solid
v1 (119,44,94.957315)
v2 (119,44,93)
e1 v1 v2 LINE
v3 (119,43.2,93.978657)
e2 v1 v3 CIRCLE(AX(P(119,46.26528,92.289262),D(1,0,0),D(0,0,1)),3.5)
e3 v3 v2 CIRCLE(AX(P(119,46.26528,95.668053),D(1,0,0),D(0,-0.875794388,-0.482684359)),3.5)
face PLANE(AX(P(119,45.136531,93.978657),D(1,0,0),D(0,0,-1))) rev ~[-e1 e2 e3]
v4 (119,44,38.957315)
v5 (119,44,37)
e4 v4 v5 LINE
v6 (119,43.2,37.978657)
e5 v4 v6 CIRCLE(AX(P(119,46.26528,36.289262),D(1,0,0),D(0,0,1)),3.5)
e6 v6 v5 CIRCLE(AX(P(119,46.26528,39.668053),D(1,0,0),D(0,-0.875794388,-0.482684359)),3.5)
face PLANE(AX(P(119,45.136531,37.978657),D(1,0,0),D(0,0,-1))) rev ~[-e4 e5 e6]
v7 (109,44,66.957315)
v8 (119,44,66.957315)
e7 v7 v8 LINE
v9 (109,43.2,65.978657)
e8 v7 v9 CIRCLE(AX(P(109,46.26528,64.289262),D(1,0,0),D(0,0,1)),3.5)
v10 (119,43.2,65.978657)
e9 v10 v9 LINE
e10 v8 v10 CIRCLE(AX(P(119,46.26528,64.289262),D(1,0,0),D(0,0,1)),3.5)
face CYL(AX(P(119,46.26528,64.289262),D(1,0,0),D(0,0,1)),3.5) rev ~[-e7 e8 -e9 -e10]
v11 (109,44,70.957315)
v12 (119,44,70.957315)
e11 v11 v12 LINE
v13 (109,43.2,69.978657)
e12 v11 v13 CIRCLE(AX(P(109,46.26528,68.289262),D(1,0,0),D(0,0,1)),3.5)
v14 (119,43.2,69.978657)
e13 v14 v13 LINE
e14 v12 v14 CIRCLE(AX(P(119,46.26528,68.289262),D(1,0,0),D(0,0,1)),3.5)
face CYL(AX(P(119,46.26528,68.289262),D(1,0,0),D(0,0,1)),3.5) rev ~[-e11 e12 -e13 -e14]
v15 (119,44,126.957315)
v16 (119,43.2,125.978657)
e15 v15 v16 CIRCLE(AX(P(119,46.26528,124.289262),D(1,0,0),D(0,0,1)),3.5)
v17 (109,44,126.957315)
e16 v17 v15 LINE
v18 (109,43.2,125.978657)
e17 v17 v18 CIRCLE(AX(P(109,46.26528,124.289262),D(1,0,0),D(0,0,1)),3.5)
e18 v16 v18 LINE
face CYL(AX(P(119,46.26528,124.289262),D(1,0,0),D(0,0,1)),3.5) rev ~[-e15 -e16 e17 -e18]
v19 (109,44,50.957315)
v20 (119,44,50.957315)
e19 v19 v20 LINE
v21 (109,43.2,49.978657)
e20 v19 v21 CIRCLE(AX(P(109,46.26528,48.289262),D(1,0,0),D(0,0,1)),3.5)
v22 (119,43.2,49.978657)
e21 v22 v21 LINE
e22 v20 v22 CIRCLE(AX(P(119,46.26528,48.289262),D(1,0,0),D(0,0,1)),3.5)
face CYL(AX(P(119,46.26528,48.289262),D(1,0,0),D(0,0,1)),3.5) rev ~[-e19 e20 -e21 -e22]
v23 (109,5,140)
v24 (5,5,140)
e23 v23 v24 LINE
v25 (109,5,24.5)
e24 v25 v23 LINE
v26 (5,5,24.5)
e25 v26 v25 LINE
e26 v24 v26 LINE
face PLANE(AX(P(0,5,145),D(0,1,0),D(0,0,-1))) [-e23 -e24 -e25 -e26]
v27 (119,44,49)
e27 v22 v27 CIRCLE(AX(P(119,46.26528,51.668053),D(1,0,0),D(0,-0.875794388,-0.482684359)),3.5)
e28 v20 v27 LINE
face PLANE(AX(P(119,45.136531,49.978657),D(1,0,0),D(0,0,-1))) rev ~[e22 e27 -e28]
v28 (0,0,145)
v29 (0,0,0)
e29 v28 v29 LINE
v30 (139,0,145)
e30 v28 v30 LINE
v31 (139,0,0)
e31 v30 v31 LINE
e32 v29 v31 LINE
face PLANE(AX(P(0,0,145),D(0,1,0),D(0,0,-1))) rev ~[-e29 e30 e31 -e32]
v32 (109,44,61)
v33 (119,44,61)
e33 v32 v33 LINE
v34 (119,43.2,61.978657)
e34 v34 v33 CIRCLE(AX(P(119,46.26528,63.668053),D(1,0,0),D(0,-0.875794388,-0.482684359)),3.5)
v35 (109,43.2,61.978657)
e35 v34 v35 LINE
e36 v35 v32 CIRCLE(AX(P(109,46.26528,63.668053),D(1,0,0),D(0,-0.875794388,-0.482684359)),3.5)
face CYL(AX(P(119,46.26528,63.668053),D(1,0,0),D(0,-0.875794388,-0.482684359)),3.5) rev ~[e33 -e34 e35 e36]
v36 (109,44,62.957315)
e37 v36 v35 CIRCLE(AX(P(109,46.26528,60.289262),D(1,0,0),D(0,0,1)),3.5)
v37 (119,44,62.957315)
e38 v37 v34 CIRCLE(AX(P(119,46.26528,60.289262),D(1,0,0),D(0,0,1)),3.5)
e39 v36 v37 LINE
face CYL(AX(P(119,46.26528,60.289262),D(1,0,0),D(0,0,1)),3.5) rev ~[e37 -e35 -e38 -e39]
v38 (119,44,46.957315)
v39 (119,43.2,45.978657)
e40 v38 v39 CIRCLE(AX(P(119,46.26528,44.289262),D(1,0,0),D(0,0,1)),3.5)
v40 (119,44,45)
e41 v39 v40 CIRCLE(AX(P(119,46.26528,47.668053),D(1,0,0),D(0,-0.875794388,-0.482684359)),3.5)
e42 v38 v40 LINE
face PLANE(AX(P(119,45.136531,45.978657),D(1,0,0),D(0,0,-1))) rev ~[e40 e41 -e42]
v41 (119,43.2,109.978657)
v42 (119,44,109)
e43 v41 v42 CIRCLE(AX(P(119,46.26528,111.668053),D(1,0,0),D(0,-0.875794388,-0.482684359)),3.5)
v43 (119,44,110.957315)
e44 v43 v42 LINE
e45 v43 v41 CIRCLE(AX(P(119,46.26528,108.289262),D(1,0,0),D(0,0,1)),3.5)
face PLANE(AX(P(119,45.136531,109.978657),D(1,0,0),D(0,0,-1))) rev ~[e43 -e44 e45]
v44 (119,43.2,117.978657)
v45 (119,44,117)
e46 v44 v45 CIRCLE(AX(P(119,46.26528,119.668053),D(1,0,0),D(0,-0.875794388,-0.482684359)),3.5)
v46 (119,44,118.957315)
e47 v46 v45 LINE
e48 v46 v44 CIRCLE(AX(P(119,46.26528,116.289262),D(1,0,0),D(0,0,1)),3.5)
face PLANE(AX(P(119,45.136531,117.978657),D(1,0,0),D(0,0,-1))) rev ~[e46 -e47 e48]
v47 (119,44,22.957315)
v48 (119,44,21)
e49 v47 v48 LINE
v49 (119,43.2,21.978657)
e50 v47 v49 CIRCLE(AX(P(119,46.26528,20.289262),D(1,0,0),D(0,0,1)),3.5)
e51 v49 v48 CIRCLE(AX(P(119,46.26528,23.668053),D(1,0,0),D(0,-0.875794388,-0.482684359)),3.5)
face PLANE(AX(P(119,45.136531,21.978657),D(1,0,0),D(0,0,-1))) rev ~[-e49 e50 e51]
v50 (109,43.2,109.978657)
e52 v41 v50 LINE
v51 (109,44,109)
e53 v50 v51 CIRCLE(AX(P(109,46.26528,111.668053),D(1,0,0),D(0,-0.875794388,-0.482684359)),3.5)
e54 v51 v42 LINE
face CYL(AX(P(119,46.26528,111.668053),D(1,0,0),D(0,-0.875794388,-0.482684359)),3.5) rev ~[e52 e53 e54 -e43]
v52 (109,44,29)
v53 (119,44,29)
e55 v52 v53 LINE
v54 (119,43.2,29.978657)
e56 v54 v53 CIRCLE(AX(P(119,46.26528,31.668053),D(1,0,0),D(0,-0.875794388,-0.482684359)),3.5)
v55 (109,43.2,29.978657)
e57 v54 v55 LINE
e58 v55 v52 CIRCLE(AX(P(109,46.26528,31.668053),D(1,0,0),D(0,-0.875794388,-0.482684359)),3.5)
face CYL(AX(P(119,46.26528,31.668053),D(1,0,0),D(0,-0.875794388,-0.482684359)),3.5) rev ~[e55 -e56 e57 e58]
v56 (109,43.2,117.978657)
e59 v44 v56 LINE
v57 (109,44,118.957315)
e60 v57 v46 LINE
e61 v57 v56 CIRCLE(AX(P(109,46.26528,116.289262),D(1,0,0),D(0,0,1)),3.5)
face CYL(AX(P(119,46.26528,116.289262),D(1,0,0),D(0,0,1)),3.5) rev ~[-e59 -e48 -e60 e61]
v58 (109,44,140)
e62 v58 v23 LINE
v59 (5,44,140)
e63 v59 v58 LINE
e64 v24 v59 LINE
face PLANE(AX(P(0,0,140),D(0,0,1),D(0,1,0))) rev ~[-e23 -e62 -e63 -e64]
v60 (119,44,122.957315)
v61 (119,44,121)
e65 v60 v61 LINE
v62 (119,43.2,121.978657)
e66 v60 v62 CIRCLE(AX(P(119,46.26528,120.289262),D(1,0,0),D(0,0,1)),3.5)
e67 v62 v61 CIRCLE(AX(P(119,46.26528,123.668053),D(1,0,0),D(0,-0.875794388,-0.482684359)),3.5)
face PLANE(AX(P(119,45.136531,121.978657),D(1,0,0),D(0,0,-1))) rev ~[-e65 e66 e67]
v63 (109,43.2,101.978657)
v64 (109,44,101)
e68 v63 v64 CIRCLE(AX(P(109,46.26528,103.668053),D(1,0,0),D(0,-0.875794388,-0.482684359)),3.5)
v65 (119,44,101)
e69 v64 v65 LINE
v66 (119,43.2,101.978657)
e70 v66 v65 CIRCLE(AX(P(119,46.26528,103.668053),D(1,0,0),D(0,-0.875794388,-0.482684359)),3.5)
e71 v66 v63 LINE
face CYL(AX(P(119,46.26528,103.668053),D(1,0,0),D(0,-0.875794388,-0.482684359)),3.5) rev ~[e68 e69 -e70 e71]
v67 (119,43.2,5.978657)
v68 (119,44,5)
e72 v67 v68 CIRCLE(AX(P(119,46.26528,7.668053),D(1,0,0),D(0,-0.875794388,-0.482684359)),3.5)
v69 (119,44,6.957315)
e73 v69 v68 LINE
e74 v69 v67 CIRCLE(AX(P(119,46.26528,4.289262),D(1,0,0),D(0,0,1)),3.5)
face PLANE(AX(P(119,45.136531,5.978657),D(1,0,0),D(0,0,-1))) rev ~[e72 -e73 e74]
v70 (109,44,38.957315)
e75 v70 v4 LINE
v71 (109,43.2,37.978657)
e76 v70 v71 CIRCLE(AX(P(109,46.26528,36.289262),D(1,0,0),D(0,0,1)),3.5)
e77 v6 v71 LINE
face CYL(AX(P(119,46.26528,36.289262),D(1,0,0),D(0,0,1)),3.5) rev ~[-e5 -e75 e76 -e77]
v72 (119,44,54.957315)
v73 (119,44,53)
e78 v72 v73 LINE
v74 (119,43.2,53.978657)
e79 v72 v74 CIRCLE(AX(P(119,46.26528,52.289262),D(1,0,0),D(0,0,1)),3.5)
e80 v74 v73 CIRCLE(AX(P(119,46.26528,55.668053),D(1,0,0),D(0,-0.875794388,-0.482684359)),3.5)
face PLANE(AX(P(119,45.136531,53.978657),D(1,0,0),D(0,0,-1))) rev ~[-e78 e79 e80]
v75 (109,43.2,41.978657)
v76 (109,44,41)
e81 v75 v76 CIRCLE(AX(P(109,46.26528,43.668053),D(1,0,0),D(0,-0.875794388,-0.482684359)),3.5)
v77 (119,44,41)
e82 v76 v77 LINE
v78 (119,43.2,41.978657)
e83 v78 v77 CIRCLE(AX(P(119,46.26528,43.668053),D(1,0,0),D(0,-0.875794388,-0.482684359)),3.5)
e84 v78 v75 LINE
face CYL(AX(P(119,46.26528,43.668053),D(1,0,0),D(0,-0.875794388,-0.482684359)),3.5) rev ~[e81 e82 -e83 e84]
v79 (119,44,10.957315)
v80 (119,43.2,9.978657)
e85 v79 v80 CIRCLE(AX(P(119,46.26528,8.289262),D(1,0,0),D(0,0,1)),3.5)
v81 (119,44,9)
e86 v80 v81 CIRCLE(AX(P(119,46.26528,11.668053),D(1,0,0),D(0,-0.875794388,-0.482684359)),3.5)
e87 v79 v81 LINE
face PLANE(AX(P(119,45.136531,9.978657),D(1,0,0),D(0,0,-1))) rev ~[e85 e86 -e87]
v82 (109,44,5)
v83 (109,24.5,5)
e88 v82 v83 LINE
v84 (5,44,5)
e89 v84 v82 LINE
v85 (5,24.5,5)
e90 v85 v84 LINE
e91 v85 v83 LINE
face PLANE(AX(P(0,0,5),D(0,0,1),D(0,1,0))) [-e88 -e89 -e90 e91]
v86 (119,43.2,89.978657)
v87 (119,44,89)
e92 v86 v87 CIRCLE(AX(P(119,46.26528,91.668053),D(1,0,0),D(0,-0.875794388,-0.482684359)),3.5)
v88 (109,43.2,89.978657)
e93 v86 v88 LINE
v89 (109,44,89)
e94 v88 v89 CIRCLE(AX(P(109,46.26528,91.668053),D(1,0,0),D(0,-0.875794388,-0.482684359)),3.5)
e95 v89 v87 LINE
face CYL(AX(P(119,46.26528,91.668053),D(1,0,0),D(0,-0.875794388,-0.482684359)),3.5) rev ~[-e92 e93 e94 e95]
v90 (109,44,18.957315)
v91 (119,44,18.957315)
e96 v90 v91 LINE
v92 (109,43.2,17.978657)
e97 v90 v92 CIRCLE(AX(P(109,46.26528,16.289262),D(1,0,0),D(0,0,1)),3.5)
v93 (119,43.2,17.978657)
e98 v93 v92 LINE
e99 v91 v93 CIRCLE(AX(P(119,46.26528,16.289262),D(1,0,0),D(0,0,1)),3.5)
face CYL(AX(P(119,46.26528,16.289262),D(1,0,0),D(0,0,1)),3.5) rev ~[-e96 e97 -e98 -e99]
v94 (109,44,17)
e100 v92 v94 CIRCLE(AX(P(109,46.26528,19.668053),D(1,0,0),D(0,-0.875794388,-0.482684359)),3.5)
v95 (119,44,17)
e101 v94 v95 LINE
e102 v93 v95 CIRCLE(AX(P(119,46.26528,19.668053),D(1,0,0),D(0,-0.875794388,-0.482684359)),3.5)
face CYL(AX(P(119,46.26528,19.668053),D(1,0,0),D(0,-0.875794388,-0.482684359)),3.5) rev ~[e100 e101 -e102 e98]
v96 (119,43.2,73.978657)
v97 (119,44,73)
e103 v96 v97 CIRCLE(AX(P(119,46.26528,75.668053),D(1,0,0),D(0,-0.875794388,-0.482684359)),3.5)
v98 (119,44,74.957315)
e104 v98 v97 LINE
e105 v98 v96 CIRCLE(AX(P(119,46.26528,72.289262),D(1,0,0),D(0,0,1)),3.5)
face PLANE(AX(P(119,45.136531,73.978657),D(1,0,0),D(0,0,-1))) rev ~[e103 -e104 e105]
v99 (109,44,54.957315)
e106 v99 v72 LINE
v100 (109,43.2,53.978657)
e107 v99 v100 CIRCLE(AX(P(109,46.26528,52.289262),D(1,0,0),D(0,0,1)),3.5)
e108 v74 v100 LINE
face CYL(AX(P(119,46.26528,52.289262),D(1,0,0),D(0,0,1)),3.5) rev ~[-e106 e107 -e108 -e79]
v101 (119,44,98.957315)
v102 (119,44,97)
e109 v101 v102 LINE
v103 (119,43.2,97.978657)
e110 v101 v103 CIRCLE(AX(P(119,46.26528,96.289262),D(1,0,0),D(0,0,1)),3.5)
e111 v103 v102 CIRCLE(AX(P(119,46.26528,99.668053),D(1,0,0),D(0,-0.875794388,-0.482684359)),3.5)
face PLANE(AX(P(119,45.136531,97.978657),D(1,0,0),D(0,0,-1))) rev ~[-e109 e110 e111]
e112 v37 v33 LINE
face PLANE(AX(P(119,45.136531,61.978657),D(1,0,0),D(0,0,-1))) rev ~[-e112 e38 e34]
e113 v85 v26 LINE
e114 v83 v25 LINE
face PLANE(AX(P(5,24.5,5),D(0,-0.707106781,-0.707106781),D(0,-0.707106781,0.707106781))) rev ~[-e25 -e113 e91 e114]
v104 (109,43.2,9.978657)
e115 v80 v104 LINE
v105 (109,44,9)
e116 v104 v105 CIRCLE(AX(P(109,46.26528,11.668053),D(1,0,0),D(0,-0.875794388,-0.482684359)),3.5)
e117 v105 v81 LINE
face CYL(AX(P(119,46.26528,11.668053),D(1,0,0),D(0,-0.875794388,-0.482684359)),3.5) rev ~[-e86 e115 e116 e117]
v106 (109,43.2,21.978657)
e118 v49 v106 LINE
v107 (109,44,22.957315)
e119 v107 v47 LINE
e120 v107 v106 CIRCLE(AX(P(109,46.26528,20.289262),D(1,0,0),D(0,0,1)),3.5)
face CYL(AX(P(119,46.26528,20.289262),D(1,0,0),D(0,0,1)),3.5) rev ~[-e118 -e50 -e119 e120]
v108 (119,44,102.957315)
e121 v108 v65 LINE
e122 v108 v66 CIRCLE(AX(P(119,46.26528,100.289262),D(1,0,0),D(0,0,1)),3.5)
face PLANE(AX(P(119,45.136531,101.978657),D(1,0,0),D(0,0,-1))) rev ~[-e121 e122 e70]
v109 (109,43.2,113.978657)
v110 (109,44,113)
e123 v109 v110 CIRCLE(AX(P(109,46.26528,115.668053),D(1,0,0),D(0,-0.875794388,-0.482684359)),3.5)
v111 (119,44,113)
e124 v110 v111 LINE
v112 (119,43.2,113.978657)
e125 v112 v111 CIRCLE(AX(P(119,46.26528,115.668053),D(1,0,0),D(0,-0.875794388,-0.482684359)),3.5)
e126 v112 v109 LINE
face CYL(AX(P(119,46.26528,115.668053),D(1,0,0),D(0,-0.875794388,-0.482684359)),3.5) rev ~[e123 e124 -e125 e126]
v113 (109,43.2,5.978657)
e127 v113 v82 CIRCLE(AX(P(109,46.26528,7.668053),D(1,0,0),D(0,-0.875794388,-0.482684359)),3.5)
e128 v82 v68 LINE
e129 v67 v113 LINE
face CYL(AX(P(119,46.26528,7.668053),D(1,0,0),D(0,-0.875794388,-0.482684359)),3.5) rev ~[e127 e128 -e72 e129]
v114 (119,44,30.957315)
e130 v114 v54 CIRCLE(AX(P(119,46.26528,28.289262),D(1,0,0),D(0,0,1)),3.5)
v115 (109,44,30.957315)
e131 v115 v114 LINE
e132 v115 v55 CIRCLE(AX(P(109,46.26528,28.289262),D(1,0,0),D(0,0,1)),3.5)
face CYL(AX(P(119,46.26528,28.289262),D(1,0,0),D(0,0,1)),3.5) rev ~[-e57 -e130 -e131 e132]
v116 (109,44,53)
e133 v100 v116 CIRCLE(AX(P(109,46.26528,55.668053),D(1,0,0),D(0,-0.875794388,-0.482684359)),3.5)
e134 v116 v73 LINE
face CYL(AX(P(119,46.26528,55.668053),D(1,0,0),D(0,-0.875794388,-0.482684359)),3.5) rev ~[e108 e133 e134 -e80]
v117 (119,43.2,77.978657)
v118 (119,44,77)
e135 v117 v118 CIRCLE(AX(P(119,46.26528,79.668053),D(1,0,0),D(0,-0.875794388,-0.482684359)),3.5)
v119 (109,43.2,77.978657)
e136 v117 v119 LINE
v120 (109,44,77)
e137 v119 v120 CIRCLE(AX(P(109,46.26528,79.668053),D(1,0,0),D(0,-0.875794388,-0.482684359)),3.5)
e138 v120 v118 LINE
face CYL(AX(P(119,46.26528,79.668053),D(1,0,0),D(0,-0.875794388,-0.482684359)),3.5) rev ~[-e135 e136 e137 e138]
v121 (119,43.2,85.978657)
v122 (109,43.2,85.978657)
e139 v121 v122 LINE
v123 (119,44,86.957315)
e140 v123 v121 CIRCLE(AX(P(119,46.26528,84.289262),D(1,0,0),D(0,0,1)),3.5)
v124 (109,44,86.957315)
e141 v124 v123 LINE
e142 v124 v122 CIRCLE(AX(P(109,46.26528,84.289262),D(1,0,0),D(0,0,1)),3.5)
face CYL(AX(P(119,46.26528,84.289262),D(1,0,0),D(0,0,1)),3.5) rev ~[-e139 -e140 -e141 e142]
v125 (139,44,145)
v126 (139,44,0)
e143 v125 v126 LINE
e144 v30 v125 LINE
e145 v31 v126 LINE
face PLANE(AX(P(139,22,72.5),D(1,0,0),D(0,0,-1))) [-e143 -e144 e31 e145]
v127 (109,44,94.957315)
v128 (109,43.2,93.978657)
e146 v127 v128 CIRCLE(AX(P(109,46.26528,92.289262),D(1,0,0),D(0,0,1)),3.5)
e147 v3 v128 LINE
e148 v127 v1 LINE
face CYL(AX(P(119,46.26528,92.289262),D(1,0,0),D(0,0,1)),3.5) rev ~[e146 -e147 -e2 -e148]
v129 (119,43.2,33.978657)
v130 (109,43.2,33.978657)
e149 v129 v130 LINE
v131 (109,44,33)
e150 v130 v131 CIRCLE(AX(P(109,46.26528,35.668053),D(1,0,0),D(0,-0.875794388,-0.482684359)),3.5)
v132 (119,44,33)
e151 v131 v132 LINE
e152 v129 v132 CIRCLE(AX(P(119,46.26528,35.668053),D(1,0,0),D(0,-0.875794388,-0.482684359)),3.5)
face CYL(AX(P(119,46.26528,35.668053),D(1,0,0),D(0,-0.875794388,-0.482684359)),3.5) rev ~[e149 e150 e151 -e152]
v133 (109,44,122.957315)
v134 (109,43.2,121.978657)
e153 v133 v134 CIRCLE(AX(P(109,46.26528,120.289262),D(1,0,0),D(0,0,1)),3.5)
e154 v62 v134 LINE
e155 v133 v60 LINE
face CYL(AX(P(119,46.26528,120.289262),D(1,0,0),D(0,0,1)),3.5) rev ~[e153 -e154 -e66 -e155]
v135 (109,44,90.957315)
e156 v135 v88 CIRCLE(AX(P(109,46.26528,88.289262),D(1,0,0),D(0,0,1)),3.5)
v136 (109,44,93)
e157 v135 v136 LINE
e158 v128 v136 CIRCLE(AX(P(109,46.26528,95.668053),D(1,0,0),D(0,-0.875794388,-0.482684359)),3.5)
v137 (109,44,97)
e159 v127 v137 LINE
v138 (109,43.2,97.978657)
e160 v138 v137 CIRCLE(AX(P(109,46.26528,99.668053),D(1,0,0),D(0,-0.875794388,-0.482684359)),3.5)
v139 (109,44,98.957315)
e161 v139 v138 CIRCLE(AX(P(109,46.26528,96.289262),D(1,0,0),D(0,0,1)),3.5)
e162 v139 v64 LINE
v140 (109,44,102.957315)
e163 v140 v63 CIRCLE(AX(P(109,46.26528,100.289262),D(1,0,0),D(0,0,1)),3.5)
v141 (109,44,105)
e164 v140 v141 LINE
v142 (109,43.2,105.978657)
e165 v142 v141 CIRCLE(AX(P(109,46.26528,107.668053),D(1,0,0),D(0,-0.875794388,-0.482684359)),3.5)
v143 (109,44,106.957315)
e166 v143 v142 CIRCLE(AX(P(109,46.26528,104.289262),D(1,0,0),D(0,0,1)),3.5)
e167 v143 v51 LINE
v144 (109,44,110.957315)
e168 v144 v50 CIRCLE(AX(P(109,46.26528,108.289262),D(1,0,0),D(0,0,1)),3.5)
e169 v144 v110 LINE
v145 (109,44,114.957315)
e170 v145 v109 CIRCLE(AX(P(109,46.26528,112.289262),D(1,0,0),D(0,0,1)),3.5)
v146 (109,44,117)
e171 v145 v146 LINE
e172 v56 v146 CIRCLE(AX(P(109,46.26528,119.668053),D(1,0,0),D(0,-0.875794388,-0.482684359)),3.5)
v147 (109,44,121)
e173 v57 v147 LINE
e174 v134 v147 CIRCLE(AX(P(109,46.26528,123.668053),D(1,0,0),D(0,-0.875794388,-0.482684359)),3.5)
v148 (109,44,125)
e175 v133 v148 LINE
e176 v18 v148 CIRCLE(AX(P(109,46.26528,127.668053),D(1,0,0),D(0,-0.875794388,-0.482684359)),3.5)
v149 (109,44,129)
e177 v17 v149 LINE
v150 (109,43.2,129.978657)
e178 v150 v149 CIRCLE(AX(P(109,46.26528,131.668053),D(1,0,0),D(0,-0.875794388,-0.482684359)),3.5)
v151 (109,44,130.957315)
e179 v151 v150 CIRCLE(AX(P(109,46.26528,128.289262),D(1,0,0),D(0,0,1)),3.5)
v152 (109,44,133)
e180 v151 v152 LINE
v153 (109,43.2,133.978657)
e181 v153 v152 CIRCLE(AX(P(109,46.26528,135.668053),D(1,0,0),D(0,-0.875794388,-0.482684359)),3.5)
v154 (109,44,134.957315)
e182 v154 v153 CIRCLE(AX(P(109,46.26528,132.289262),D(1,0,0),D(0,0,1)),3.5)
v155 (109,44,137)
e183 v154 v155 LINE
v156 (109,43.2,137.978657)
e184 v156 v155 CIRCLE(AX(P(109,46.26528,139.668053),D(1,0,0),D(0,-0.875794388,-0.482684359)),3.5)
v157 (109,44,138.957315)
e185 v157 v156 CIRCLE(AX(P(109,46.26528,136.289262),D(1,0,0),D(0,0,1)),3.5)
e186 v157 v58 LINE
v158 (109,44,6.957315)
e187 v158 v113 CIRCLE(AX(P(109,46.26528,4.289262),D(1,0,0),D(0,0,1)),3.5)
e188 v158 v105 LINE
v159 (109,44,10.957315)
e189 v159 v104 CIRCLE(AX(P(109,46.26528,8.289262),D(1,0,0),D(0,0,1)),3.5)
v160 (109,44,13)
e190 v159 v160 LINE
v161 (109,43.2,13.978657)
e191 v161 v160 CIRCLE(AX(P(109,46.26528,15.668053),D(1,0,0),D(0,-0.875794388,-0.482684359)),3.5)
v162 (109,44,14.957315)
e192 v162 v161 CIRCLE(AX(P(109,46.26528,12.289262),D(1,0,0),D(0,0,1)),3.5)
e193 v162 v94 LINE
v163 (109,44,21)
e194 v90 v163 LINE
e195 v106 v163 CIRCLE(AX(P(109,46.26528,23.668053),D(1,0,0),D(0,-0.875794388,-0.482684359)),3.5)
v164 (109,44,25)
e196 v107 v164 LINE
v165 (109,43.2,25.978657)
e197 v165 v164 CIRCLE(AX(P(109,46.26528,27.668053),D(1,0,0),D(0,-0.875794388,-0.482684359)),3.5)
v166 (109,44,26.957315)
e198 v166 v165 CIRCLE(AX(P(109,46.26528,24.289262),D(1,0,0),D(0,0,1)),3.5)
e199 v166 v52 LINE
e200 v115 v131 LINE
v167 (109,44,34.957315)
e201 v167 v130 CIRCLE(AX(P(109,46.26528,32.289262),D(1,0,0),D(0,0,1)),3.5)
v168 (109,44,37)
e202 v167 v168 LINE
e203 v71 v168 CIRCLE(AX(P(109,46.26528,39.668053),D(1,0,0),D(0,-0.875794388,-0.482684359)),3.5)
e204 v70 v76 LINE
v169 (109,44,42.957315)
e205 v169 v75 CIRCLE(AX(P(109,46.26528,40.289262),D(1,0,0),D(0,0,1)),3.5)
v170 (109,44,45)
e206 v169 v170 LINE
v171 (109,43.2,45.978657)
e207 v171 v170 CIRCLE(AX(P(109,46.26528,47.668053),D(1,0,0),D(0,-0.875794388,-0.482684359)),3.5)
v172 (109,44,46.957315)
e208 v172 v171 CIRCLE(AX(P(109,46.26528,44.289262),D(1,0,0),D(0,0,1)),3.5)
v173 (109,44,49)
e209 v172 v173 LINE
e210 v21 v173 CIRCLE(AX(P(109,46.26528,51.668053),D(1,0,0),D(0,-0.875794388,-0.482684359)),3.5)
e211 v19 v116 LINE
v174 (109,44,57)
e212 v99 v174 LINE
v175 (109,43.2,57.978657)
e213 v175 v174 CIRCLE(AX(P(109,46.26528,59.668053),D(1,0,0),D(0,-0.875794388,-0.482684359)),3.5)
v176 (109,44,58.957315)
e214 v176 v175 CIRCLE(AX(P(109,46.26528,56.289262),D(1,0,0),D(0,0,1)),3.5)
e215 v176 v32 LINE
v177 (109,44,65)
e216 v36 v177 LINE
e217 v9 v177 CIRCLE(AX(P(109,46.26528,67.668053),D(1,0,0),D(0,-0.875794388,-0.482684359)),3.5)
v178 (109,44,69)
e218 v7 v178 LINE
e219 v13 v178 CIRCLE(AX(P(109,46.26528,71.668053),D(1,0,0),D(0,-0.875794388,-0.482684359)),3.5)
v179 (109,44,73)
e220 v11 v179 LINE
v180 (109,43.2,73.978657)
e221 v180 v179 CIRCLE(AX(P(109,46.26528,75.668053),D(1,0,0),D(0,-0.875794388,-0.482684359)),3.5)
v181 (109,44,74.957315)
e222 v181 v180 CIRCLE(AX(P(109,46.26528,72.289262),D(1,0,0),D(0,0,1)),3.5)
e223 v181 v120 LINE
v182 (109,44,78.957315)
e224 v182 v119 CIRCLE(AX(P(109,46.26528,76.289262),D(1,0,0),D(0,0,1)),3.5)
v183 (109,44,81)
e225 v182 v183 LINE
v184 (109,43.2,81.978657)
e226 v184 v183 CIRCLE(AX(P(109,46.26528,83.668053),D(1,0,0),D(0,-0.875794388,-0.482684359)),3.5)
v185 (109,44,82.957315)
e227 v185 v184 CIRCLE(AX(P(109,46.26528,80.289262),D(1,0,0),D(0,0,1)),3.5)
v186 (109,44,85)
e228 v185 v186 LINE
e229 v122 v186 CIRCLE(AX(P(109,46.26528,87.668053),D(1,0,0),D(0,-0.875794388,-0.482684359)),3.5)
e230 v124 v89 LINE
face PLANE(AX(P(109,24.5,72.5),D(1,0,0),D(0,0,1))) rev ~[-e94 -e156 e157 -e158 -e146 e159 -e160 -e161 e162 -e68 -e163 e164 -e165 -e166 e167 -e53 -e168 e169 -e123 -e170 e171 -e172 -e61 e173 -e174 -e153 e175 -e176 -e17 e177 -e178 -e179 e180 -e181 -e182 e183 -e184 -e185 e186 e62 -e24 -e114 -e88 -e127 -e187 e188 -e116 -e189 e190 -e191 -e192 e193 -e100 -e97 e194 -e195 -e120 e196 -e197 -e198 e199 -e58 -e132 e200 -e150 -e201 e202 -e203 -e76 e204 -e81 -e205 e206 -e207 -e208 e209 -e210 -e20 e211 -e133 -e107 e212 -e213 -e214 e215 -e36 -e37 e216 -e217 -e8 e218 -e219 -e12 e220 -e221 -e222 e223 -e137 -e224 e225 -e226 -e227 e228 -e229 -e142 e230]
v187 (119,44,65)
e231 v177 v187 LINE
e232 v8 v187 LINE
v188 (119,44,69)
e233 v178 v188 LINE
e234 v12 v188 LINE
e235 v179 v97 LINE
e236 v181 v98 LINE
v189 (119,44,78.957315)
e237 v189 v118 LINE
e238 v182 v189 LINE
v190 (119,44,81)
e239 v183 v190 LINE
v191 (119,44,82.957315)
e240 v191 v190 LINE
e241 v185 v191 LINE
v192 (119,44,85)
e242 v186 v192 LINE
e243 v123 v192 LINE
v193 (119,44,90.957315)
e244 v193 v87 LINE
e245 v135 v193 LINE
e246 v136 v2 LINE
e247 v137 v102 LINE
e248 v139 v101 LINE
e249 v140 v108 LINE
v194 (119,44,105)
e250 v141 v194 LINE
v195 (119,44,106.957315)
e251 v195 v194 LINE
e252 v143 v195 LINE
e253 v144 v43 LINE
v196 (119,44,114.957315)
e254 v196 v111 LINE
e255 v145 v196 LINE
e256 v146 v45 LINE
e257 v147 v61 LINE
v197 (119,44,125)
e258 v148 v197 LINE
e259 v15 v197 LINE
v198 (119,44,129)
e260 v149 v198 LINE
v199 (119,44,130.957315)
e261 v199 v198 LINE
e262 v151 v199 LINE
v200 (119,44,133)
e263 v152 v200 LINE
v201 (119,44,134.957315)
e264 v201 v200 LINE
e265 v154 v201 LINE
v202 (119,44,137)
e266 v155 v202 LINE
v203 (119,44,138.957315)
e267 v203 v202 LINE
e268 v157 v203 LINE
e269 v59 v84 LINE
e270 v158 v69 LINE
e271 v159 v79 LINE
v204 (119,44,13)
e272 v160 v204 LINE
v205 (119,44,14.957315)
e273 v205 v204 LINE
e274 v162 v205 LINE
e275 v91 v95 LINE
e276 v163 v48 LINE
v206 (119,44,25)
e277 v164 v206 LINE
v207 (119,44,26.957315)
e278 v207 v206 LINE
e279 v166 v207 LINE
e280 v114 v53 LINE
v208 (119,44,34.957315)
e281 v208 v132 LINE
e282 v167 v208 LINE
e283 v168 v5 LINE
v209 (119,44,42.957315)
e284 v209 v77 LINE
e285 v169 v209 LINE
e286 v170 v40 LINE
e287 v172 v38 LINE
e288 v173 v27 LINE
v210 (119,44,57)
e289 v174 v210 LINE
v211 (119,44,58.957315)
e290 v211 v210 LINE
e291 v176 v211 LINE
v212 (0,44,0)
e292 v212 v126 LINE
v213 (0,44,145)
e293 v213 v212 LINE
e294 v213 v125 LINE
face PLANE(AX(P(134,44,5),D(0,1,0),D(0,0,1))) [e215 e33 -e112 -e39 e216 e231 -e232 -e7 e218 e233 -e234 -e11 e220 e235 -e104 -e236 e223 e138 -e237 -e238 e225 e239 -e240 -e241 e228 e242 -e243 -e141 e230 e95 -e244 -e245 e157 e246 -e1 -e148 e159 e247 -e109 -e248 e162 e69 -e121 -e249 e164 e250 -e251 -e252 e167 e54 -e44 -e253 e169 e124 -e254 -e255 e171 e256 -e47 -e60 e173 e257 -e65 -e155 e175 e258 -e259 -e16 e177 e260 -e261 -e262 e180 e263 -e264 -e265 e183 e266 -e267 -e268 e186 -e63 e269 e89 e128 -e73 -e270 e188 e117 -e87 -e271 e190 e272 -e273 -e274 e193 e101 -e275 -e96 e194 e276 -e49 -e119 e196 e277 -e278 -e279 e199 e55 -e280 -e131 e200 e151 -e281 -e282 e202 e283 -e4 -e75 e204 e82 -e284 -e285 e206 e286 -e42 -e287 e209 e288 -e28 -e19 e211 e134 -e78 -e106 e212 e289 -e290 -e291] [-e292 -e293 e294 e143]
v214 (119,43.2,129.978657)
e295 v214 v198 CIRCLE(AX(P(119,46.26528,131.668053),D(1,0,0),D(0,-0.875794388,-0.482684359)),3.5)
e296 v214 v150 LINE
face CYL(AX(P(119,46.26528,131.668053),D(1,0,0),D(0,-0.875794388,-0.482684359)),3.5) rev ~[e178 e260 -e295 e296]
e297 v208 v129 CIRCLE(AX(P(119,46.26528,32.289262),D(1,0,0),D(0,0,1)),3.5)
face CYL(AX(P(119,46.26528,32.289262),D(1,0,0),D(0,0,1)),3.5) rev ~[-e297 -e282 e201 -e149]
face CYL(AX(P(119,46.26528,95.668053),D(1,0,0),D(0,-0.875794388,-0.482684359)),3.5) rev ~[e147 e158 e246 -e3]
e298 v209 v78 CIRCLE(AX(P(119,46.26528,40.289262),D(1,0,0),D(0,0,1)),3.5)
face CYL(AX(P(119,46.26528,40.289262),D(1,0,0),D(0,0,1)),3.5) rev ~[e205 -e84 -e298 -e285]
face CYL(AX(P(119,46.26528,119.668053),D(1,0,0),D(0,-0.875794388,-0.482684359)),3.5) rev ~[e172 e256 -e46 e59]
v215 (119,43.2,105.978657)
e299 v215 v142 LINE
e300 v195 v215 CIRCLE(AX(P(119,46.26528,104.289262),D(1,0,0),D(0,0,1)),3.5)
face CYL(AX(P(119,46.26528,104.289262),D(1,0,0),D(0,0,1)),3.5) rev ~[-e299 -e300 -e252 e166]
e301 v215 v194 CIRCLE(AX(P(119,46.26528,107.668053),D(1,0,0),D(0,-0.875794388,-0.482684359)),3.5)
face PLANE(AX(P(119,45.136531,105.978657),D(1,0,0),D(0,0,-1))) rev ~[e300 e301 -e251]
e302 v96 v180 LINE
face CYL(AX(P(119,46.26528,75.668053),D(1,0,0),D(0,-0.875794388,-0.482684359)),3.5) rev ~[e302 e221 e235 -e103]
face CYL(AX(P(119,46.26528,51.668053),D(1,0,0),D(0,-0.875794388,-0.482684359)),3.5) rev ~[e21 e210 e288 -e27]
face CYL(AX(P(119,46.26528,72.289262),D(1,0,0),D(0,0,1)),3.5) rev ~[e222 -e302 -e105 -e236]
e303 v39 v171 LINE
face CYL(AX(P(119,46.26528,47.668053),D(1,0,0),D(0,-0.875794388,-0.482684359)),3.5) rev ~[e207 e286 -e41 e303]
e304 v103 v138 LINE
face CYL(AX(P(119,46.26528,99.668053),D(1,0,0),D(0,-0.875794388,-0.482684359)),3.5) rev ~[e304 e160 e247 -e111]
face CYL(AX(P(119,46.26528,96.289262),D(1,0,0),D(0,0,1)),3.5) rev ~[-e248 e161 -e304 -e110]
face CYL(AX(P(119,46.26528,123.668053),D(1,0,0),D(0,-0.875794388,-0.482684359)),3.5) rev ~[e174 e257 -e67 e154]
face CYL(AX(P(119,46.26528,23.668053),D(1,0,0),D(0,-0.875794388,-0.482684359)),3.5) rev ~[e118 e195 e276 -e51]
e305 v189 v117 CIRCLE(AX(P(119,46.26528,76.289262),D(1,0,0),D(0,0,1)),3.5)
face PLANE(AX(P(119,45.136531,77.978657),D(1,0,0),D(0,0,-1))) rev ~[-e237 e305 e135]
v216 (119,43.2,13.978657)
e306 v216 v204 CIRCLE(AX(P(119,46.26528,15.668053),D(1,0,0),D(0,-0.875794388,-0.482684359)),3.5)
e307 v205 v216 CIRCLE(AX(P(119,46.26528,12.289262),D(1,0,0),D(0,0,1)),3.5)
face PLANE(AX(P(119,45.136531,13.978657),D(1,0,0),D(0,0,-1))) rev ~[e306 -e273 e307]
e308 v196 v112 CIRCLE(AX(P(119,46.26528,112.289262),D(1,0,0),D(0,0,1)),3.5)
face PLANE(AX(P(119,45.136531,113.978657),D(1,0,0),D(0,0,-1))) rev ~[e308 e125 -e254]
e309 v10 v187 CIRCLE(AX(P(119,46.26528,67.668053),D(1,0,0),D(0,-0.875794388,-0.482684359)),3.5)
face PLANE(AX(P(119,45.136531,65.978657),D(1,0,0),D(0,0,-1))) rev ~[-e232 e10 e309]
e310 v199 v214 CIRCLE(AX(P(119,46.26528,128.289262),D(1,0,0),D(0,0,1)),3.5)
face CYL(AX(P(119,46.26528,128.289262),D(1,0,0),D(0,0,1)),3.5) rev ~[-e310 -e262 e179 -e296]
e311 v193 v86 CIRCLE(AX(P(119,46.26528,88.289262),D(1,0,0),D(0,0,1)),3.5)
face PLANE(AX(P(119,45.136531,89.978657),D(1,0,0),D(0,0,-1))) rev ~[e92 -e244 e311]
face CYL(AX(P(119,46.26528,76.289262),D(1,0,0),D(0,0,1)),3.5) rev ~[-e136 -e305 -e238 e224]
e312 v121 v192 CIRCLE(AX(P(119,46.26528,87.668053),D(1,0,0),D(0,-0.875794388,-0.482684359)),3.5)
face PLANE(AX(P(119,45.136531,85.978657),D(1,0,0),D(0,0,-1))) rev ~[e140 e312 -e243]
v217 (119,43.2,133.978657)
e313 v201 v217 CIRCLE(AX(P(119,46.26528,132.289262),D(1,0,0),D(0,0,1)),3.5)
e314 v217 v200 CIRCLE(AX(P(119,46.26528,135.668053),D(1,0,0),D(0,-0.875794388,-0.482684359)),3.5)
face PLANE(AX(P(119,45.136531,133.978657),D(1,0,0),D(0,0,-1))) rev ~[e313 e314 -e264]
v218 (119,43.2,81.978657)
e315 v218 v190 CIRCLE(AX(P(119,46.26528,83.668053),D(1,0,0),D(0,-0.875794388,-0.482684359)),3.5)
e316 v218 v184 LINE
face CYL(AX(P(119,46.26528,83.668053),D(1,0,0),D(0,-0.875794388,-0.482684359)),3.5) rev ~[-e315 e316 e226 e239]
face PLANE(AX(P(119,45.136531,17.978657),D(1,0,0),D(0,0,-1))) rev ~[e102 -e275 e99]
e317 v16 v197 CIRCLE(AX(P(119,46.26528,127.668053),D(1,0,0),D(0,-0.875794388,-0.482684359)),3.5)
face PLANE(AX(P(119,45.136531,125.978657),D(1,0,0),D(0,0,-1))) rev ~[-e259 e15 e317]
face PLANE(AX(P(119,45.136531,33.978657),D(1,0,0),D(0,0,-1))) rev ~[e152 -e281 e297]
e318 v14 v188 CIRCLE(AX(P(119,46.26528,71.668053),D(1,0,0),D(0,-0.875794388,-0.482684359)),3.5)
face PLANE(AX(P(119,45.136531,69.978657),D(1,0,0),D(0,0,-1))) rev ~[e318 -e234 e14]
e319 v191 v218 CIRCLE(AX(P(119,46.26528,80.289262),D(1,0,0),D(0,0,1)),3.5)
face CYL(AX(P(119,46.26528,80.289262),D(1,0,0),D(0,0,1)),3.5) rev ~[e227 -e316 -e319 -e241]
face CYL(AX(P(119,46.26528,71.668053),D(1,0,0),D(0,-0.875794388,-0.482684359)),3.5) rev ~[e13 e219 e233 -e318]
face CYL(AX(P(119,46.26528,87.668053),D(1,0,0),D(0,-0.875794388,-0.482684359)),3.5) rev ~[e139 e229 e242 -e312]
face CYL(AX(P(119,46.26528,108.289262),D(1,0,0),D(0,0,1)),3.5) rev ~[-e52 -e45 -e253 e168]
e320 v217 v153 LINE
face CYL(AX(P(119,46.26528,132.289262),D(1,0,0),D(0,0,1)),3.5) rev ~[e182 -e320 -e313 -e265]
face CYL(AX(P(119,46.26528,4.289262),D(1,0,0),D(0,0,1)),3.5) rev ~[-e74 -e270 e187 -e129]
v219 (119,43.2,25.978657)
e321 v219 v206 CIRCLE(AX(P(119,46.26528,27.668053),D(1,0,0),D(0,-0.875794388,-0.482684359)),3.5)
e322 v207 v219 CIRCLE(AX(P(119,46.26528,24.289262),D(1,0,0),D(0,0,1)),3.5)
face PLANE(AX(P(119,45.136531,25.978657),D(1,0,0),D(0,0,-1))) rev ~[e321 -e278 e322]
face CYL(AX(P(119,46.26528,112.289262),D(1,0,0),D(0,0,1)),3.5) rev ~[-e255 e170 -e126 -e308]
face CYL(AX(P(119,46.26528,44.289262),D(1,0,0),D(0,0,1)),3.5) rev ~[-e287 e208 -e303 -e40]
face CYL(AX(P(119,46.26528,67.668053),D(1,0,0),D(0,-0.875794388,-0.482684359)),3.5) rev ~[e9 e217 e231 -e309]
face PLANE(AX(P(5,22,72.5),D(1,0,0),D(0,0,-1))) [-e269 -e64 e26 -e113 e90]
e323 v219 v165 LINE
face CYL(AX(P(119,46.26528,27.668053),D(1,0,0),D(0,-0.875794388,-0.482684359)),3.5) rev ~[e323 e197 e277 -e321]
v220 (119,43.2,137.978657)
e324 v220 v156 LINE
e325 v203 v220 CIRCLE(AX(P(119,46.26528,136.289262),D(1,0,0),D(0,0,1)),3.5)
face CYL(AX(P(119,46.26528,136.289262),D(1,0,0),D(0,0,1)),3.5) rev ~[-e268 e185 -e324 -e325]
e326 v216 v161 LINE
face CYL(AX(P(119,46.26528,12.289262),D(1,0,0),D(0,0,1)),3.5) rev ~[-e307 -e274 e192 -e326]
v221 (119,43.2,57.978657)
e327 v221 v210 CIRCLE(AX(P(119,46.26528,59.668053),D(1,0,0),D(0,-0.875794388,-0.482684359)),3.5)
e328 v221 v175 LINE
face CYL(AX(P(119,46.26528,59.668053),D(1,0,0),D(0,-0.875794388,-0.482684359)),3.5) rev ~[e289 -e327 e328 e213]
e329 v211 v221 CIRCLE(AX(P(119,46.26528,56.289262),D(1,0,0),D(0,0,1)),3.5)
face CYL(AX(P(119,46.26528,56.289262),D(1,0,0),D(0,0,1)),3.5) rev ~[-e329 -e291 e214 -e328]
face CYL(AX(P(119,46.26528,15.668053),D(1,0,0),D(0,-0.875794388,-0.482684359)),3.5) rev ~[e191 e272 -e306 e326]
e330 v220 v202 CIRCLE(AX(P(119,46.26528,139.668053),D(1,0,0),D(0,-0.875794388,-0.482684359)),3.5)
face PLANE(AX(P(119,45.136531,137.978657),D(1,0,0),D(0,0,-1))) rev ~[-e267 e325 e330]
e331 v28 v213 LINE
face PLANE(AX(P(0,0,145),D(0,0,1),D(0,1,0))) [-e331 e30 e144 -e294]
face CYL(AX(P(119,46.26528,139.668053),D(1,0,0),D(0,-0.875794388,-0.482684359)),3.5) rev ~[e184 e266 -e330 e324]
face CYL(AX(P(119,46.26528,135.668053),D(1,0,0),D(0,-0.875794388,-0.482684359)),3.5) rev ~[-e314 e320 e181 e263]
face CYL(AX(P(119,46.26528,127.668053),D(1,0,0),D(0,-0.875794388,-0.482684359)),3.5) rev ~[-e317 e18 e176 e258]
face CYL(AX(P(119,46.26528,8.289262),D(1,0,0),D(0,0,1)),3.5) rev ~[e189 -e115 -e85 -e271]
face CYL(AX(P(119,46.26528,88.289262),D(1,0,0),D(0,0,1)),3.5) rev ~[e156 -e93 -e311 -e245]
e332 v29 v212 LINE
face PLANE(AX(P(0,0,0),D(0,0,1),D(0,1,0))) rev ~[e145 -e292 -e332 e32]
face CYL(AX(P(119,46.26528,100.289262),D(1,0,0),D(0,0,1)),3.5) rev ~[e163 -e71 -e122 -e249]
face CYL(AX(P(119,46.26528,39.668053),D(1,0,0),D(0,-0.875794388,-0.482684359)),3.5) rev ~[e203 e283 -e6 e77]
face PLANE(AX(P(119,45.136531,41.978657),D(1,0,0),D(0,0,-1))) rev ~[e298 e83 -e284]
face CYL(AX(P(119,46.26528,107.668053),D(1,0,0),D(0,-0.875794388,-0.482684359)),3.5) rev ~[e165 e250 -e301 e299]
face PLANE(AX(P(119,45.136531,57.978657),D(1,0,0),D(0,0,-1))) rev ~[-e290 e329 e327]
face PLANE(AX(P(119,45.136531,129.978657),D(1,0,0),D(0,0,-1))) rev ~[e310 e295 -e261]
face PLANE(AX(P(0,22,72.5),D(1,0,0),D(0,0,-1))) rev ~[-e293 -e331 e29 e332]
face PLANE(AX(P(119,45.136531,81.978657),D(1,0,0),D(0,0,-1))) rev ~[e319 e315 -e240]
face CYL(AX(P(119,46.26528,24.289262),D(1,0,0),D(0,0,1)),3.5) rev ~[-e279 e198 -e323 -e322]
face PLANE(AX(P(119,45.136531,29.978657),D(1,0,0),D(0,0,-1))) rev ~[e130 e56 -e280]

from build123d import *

# Parameters (mm, degrees)
SKETCH_1_W                 = 145
SKETCH_1_H                 = 44
EXTRUDE_1_DEPTH            = 139
SHELL_1_T                  = -5
SHELL_1_THICKNESS_2_FACE_W = 135
SHELL_1_THICKNESS_2_FACE_H = 39
SHELL_1_THICKNESS_2_DEPTH  = 25
EXTRUDE_2_REACH            = 204.28
CUT_EXTRUDE_START          = -10
CUT_EXTRUDE_1_DEPTH        = 10
PATTERN_LINEAR_2_COUNT     = 34
PATTERN_LINEAR_2_PITCH     = 4


with BuildPart() as part:
    # 스케치1 → 보스-돌출1 (new body)
    with BuildSketch(Plane(origin=(0, 0, 0), x_dir=(0, 0, -1), z_dir=(1, 0, 0))):
        with Locations((-72.5, 22)):
            Rectangle(SKETCH_1_W, SKETCH_1_H)
    extrude(amount=EXTRUDE_1_DEPTH)

    # 쉘1
    shell_1_openings = [part.faces().sort_by_distance(p)[0] for p in [
        (69.5, 44, 72.5),
    ]]
    offset(amount=SHELL_1_T, openings=shell_1_openings, kind=Kind.INTERSECTION)

    # 쉘1 thickness 2 face (on inner face of the shell) → 쉘1 thickness 2 (add)
    with BuildSketch(Plane(origin=(134, 24.5, 72.5), x_dir=(0, 0, 1), z_dir=(1, 0, 0))):
        Rectangle(SHELL_1_THICKNESS_2_FACE_W, SHELL_1_THICKNESS_2_FACE_H)
    extrude(amount=-SHELL_1_THICKNESS_2_DEPTH)

    # 스케치3 → 보스-돌출2 (add, up to next)
    with BuildSketch(Plane(origin=(5, 0, 0), x_dir=(0, 0, -1), z_dir=(1, 0, 0)), mode=Mode.PRIVATE) as extrude_2_sk1:
        Polygon((-5, 24.5), (-24.5, 5), (-5, 5), align=None)
    extrude_2_tool1 = extrude(extrude_2_sk1.sketch, amount=EXTRUDE_2_REACH, mode=Mode.PRIVATE) - part.part
    add(extrude_2_tool1.solids().sort_by_distance((5, 11.5, 11.5))[0])

    # 스케치4 → 컷-돌출1 (cut)
    with BuildSketch(Plane.ZY.offset(-109).offset(CUT_EXTRUDE_START)):
        with BuildLine():
            Line((4.168052643, 46.265280356), (7.789262128, 46.265280356))
            ThreePointArc((7.789262128, 46.265280356), (7.302805176, 44.485235891), (5.978657386, 43.2))
            ThreePointArc((5.978657386, 43.2), (4.654509595, 44.485235891), (4.168052643, 46.265280356))
        make_face()
    cut_extrude_1 = extrude(amount=CUT_EXTRUDE_1_DEPTH, mode=Mode.SUBTRACT)

    # 선형 패턴2: 컷-돌출1 ×34
    with Locations(*[(0, 0, i * PATTERN_LINEAR_2_PITCH) for i in range(1, PATTERN_LINEAR_2_COUNT)]):
        add(cut_extrude_1, mode=Mode.SUBTRACT)


solid = part.part
